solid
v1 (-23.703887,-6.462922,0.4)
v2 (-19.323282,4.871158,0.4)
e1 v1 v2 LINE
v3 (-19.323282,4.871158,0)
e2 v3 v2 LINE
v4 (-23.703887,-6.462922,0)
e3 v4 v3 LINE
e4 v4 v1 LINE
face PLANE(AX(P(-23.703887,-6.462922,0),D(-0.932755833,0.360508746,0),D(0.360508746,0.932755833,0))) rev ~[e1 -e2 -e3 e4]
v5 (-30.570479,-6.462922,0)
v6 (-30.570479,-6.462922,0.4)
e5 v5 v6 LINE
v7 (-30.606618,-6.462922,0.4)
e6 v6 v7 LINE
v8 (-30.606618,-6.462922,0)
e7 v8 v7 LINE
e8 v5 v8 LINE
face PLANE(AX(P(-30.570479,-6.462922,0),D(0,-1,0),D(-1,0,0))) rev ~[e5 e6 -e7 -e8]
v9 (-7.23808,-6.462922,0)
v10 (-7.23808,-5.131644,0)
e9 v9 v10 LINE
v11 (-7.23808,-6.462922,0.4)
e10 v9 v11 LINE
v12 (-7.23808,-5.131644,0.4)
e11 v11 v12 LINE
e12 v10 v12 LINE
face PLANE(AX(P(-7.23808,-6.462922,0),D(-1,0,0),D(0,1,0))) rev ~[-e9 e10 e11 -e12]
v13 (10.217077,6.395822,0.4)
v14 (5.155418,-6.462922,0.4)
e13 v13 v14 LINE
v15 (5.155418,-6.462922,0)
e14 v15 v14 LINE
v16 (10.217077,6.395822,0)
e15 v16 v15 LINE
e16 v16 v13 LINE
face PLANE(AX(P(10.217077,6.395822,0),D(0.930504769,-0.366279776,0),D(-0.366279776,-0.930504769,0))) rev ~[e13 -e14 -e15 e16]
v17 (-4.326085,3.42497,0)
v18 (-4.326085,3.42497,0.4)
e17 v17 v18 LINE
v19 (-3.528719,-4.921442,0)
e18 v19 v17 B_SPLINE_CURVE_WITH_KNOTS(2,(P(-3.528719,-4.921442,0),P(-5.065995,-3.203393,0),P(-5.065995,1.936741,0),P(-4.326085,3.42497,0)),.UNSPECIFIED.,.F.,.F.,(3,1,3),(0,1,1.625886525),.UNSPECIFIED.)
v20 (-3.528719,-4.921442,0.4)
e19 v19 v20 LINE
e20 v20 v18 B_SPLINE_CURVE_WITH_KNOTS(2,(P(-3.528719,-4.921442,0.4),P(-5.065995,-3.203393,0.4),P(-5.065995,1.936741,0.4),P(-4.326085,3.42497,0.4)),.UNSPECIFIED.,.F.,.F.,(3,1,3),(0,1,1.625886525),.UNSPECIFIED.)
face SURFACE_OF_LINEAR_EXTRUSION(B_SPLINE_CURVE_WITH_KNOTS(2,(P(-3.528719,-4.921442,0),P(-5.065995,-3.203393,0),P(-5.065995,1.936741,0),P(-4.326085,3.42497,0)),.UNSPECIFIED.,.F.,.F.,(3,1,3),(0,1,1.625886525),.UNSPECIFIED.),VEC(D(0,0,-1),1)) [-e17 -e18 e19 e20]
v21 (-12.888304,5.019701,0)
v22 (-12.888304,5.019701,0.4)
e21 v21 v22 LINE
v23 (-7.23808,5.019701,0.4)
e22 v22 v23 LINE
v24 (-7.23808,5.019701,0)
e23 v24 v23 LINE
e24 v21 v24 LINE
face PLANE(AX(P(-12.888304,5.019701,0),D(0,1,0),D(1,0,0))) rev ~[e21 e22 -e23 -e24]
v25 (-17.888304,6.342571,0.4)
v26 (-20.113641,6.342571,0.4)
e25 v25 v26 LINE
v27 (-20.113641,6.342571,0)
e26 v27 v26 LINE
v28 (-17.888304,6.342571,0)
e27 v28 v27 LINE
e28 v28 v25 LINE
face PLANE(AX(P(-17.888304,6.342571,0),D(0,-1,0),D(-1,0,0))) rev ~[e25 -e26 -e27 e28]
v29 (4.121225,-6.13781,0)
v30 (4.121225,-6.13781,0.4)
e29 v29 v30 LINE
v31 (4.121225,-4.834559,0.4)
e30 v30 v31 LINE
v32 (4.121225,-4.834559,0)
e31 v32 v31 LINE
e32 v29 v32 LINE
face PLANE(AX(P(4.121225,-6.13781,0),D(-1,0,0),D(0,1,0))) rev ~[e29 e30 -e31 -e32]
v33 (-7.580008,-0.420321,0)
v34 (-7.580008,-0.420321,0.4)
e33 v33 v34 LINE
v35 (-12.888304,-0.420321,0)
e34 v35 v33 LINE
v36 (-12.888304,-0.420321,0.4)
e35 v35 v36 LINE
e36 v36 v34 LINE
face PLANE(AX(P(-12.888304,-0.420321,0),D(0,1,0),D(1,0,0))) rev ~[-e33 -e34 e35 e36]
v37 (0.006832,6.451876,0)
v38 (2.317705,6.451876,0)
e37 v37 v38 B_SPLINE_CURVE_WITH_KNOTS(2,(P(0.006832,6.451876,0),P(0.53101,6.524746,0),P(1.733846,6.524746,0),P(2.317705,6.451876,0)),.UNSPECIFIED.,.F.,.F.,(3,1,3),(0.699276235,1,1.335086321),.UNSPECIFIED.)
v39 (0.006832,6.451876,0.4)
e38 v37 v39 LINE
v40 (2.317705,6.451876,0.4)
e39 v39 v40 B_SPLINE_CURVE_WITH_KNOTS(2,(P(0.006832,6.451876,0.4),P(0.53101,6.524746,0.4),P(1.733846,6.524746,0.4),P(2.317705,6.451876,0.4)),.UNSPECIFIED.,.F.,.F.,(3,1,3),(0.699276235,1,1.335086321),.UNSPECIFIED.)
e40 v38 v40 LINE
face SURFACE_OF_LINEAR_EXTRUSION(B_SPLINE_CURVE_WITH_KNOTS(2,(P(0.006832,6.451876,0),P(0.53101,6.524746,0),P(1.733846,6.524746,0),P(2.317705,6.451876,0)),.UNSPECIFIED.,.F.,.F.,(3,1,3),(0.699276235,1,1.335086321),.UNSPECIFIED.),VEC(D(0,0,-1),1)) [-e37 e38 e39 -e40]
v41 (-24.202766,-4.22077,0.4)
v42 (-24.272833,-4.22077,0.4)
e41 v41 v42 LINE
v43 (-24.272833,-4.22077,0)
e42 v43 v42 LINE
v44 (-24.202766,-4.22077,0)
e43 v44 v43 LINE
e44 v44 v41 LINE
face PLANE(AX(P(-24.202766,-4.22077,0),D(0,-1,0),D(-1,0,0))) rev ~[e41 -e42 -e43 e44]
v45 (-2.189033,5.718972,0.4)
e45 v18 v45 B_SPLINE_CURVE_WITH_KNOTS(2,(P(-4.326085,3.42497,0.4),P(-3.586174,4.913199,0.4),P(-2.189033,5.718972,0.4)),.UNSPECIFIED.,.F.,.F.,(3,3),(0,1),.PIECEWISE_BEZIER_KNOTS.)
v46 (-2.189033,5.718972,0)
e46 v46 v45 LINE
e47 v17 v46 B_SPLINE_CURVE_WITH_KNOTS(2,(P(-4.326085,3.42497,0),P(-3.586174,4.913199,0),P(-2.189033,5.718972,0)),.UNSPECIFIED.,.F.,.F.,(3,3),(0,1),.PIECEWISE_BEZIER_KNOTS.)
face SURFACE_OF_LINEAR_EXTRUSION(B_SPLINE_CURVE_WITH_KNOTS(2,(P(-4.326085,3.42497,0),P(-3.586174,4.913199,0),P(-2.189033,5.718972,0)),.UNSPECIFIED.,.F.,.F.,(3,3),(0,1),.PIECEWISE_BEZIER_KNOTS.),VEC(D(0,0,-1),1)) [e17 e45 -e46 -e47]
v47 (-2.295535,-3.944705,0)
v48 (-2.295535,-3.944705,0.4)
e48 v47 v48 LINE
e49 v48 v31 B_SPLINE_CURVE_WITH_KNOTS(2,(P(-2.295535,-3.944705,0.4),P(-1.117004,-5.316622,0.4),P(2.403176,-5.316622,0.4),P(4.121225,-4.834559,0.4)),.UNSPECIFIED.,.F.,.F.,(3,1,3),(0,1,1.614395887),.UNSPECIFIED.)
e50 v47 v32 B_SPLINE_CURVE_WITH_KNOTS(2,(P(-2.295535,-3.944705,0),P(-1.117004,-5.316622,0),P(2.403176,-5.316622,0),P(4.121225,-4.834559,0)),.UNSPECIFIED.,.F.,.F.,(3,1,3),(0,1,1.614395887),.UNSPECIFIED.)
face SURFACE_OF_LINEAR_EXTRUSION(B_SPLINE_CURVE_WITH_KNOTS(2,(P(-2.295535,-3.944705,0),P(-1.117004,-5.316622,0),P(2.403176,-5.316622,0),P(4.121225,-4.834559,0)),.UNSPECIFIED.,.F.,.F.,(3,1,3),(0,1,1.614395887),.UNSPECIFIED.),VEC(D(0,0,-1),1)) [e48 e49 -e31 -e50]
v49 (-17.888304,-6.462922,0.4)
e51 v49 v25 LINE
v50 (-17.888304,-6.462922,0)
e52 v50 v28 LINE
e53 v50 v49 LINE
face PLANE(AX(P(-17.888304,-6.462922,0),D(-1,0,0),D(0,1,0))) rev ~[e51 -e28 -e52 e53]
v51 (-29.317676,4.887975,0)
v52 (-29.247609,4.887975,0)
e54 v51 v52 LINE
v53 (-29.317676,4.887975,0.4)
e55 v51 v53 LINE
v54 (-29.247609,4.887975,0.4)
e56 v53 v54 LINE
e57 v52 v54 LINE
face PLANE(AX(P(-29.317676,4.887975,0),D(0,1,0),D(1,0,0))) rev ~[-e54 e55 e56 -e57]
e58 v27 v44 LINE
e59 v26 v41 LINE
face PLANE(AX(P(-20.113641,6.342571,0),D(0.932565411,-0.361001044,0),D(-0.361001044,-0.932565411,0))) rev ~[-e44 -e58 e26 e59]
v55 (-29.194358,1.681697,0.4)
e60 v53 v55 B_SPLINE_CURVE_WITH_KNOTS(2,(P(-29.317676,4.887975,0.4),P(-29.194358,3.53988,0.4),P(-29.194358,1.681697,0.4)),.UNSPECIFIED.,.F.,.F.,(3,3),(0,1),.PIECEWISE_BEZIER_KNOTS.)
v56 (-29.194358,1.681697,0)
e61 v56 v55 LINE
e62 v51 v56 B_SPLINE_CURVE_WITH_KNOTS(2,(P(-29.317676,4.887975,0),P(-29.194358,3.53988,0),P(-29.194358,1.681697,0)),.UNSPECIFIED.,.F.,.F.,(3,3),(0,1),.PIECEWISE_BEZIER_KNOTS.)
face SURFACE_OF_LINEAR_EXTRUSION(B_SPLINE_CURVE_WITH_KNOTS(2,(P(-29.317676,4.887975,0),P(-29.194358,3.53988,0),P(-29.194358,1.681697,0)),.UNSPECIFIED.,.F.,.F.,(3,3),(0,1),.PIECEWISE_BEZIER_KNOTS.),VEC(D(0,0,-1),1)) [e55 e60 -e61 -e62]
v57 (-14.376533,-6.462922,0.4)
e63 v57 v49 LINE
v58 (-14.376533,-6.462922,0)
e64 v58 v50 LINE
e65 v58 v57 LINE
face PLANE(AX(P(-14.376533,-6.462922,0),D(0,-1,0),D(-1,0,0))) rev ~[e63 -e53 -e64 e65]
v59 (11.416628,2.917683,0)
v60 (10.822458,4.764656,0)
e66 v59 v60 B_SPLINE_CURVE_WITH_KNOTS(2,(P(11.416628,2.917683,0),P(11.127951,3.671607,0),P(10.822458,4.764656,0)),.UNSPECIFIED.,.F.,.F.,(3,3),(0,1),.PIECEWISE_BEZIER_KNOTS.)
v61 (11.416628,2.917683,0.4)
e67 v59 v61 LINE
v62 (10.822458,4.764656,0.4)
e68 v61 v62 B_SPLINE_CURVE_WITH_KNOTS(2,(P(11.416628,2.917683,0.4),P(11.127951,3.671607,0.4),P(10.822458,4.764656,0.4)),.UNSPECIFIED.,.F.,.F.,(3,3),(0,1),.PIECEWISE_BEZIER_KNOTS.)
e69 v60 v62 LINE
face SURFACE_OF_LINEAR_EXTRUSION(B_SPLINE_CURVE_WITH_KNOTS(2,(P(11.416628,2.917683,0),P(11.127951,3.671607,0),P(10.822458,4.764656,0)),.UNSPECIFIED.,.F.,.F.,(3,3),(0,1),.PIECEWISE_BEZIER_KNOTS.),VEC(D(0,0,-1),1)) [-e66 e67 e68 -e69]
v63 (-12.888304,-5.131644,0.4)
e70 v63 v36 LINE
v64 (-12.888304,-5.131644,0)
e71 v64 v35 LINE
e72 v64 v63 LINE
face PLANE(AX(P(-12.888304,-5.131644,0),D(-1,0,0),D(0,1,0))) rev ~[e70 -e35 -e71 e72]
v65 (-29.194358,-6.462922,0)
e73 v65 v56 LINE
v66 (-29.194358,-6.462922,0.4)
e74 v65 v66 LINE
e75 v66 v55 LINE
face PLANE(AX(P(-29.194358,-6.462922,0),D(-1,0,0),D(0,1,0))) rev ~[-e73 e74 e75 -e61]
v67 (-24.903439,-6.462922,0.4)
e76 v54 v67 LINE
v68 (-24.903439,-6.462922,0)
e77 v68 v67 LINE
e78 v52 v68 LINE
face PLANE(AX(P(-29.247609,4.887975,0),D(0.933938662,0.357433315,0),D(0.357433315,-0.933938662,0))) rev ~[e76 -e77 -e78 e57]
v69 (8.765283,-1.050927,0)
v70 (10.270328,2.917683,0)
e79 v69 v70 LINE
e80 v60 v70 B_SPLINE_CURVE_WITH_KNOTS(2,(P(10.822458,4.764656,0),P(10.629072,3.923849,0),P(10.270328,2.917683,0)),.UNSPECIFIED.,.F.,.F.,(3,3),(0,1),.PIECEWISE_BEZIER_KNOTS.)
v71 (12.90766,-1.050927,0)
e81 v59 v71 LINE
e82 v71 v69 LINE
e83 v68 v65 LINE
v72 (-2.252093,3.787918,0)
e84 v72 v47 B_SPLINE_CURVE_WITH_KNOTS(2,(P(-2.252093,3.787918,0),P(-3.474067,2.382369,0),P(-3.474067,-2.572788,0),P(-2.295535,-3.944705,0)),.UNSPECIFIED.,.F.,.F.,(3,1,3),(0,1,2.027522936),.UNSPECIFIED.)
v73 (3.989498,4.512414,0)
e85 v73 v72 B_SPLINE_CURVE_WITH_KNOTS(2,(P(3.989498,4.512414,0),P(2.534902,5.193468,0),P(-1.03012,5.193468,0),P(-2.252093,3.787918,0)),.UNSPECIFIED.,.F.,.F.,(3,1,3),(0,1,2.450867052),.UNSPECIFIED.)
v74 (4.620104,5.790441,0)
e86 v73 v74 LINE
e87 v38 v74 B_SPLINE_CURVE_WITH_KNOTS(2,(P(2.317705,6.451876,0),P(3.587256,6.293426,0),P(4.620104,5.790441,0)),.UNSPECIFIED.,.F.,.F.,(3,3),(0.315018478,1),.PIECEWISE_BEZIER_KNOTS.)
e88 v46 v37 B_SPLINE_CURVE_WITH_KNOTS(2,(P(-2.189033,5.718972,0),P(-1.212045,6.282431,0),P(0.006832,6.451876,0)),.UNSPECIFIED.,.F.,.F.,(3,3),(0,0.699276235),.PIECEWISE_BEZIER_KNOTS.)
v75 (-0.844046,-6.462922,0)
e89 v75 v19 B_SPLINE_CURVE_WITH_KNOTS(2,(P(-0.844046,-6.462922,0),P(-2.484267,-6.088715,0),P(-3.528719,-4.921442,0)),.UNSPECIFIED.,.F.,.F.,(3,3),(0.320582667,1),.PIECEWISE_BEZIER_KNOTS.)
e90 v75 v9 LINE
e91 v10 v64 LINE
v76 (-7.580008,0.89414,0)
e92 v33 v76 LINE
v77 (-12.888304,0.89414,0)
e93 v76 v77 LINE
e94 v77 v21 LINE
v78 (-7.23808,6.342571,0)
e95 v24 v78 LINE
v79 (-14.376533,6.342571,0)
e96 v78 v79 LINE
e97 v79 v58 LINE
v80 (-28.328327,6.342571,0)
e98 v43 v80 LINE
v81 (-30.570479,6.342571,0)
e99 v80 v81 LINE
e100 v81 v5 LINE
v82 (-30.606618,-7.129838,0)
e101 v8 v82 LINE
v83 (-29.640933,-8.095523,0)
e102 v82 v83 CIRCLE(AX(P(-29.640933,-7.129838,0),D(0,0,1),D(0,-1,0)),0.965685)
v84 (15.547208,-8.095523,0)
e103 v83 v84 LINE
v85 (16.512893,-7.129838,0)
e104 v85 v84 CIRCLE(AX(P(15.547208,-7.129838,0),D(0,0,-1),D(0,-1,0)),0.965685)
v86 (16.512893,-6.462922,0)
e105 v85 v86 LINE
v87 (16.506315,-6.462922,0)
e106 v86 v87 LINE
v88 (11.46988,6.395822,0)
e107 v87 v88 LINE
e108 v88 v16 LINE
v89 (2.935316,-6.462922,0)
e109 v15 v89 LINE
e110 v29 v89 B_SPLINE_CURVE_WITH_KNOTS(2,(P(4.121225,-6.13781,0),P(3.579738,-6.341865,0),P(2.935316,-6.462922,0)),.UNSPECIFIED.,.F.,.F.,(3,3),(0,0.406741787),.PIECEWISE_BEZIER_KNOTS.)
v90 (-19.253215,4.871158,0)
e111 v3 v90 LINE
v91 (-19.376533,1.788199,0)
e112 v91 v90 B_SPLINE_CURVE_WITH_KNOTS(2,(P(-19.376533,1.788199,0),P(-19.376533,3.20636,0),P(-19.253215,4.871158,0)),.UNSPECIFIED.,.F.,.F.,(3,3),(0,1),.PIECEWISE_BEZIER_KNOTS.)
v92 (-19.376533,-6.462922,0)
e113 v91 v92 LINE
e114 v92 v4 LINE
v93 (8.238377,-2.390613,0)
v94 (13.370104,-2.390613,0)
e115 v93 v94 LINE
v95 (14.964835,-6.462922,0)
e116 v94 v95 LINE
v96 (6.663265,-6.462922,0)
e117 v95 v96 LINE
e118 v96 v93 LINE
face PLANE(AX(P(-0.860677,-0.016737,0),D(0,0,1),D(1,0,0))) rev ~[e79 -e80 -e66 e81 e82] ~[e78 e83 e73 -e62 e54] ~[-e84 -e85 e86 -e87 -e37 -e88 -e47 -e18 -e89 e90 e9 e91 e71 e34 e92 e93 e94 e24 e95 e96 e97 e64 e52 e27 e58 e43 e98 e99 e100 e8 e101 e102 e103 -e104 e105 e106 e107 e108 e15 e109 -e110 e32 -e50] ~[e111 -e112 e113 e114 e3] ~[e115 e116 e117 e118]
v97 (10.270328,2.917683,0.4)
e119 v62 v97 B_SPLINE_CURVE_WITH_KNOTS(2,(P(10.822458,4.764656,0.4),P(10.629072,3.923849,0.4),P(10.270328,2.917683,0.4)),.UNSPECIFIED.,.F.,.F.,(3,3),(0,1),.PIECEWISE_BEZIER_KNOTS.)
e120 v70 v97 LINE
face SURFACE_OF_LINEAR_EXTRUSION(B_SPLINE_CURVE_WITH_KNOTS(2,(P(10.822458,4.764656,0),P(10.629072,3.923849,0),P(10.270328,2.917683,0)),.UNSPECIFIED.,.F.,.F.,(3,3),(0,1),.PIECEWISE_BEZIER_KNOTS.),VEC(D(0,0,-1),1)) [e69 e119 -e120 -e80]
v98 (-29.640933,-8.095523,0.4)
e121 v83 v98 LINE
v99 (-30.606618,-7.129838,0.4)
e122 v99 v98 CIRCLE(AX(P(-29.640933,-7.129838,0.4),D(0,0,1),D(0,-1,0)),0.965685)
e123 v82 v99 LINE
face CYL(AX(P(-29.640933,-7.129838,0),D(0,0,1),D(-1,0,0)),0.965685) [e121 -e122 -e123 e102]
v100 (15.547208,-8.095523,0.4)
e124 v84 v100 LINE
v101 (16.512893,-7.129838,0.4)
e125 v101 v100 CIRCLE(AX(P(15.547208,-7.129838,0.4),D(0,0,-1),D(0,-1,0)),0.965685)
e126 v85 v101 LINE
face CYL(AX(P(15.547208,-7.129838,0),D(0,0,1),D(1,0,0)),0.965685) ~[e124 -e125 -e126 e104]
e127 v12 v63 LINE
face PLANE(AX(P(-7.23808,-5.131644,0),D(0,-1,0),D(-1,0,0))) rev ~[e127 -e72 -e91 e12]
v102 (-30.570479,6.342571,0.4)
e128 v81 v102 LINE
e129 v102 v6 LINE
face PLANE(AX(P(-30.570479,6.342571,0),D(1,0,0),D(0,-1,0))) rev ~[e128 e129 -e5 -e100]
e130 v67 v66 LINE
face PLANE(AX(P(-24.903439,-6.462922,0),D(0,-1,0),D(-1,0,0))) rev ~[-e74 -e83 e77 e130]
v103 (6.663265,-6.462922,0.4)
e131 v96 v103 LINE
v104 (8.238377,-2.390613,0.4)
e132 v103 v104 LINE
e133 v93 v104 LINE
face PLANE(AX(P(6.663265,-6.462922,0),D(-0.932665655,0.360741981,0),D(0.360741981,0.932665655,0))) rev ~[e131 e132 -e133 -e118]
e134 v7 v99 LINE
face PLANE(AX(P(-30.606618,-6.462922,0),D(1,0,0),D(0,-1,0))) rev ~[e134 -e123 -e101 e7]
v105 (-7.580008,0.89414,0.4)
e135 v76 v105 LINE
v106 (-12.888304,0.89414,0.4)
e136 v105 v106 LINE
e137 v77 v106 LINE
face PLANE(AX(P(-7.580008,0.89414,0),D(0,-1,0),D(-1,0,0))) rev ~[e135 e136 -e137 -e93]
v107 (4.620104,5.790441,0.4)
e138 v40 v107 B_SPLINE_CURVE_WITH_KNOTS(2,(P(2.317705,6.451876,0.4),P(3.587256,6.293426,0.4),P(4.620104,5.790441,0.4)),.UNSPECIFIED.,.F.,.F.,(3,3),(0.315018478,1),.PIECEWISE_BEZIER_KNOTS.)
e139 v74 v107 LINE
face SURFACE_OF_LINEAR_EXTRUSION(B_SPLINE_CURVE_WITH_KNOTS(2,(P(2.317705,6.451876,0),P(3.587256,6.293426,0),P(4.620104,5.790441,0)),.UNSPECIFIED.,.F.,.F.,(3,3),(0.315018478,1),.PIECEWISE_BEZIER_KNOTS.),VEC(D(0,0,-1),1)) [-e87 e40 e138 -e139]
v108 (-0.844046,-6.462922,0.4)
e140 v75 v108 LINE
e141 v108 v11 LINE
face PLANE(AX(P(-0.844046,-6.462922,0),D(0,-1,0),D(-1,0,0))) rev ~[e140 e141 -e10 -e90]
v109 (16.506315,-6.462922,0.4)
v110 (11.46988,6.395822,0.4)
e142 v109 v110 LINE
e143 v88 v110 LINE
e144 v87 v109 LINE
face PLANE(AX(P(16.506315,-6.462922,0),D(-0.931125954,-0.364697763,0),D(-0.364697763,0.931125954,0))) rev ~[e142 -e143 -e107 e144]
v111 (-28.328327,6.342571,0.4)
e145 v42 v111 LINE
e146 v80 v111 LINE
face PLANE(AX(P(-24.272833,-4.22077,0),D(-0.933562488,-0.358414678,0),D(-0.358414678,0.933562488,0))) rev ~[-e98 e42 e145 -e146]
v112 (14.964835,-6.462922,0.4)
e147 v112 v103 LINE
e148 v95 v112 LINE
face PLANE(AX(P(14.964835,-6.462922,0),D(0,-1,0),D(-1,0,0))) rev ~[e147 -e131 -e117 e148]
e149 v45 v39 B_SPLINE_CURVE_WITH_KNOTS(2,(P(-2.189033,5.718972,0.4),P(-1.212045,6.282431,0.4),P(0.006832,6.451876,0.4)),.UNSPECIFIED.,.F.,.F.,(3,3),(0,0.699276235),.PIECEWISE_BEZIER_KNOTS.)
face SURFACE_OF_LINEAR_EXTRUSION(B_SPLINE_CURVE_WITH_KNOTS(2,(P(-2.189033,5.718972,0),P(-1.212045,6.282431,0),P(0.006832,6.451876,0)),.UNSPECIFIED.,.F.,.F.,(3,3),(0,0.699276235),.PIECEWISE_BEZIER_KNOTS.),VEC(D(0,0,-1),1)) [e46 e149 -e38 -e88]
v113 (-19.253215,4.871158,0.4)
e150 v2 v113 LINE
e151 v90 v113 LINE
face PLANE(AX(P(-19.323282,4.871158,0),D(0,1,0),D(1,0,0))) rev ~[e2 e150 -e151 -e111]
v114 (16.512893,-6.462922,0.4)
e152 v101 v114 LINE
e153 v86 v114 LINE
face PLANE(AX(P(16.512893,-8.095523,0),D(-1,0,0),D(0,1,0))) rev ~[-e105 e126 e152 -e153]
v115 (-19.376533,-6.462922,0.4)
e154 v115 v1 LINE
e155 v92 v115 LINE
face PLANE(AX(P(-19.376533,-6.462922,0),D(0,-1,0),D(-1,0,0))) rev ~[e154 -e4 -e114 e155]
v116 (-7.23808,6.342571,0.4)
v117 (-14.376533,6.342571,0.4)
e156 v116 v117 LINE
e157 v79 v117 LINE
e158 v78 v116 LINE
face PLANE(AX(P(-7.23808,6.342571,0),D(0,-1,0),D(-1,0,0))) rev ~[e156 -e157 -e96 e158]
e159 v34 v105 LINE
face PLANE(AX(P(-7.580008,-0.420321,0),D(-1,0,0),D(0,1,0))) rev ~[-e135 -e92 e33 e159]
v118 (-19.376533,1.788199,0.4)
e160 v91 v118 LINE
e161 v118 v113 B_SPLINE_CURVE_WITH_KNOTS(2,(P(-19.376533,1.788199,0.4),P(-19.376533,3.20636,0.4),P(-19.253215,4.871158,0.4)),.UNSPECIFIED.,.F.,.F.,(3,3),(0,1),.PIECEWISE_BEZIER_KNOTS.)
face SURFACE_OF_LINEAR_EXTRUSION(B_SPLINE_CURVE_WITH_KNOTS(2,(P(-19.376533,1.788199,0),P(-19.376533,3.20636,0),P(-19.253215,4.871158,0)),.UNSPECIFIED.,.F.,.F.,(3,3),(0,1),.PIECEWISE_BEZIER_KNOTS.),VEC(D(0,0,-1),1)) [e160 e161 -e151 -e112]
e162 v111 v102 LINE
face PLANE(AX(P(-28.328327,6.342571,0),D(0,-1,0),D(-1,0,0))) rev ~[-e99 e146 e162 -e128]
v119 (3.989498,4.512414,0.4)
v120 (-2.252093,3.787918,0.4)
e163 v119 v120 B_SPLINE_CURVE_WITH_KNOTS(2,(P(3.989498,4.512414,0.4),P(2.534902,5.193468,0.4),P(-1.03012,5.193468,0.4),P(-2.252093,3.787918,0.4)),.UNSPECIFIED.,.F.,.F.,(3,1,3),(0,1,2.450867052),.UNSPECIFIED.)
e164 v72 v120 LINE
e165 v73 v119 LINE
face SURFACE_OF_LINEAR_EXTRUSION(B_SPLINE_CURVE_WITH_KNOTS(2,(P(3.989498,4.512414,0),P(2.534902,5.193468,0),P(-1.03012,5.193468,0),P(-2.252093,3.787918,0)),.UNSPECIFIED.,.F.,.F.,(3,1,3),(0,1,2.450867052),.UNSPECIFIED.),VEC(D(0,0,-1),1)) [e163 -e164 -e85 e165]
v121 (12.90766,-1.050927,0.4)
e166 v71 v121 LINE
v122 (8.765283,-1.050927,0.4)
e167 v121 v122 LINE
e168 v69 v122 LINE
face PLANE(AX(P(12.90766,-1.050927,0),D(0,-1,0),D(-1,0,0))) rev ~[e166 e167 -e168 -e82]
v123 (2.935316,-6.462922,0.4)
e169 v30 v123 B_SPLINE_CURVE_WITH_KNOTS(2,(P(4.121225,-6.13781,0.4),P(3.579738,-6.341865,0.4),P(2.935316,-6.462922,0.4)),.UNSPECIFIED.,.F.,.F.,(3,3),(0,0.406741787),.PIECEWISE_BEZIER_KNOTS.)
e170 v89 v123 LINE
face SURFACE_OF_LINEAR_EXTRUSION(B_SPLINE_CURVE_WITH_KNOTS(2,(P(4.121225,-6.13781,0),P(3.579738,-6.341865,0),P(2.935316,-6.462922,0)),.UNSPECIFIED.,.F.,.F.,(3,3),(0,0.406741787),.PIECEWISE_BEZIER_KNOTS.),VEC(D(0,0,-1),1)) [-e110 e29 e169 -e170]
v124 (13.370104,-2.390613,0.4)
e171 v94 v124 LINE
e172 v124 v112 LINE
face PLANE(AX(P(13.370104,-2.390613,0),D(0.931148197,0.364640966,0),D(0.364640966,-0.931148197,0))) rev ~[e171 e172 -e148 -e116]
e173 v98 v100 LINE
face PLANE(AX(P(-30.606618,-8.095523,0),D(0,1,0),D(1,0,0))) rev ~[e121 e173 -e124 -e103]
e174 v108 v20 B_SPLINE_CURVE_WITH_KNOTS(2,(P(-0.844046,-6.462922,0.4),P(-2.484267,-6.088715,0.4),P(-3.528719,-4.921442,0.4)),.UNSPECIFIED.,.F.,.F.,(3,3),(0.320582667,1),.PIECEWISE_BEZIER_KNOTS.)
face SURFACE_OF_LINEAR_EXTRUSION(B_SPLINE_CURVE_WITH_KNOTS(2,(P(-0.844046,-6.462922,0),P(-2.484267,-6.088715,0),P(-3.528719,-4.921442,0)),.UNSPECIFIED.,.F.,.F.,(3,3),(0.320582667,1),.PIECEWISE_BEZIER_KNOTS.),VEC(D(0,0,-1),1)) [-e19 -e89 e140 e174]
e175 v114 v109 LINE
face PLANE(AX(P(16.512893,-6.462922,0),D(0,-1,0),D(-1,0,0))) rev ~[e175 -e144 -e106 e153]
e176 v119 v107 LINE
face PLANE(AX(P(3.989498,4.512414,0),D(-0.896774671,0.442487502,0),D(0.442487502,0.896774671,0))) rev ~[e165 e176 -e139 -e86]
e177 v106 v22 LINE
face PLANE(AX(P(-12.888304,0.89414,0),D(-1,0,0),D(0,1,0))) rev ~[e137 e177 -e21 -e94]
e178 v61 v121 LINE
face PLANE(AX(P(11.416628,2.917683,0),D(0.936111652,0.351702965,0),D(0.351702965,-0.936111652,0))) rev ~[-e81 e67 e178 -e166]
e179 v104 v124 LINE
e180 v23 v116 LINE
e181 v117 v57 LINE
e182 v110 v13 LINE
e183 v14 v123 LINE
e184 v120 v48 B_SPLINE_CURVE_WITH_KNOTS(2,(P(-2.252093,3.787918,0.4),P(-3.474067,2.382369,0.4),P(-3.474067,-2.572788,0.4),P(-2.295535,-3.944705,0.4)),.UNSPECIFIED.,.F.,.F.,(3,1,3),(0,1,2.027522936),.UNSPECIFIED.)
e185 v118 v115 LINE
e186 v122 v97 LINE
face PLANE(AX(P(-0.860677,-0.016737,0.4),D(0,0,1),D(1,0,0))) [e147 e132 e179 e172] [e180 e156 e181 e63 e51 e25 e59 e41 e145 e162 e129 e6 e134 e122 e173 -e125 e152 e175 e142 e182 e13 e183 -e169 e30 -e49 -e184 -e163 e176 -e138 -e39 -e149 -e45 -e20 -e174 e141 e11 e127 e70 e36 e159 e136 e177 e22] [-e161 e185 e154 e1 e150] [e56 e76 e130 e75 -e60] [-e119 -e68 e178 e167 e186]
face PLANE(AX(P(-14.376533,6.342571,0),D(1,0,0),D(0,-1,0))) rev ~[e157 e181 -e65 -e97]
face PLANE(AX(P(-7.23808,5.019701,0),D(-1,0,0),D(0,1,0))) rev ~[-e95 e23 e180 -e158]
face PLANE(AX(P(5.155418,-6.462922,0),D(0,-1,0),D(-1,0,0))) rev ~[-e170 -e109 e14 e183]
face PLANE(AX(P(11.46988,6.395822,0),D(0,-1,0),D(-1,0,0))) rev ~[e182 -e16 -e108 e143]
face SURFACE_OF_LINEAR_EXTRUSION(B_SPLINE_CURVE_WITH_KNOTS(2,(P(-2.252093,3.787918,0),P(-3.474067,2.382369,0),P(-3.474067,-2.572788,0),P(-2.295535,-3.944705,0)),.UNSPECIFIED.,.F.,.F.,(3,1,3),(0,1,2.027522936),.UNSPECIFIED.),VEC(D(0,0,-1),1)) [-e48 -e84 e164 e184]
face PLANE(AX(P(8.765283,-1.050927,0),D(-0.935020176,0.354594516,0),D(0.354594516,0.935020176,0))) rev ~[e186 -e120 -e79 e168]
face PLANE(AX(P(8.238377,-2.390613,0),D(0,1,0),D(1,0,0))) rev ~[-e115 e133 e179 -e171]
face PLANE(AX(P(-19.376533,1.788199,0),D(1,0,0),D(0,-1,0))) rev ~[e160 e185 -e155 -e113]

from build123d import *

# Parameters (mm, degrees)
F1_DEPTH = 0.4
F2_R     = 0.9656854249


with BuildPart() as f1:
    # F0 (on Top) → F1 (new body)
    with BuildSketch(Plane.XY):
        with BuildLine():
            Line((2.3177045503, 6.4518758865), (0.0068321246, 6.4518758865))
            add(Edge.make_bspline(
                [(-2.1890329452, 5.7189722991), (-1.2120452677, 6.2824305885), (0.0068321246, 6.4518758865)],
                knots=[0, 0, 0, 0.6992762354, 0.6992762354, 0.6992762354], degree=2))
            add(Edge.make_bspline(
                [(-4.3260845147, 3.4249700569), (-3.5861742008, 4.9131987565), (-2.1890329452, 5.7189722991)],
                knots=[0, 0, 0, 1, 1, 1], degree=2))
            add(Edge.make_bspline(
                [(-5.0659948286, -0.0419581942), (-5.0659948286, 1.9367413574), (-4.3260845147, 3.4249700569)],
                knots=[0, 0, 0, 1, 1, 1], degree=2))
            add(Edge.make_bspline(
                [(-3.5287190438, -4.9214424991), (-5.0659948286, -3.2033931718), (-5.0659948286, -0.0419581942)],
                knots=[0, 0, 0, 1, 1, 1], degree=2))
            add(Edge.make_bspline(
                [(-0.8440462353, -6.4629223198), (-2.48426723, -6.0887149912), (-3.5287190438, -4.9214424991)],
                knots=[0.3205826669, 0.3205826669, 0.3205826669, 1, 1, 1], degree=2))
            Line((-0.8440462353, -6.4629223198), (-0.101907946, -6.4629223198))
            Line((-0.101907946, -6.4629223198), (2.9353164681, -6.4629223198))
            add(Edge.make_bspline(
                [(4.1212249023, -6.1378102121), (3.5797384986, -6.3418650885), (2.9353164681, -6.4629223198)],
                knots=[0, 0, 0, 0.406741787, 0.406741787, 0.406741787], degree=2))
            Line((4.1212249023, -6.1378102121), (4.1212249023, -4.8345590911))
            add(Edge.make_bspline(
                [(1.0634894763, -5.3166218713), (2.403175575, -5.3166218713), (4.1212249023, -4.8345590911)],
                knots=[0, 0, 0, 1, 1, 1], degree=2))
            add(Edge.make_bspline(
                [(-2.2955351873, -3.944704831), (-1.1170037972, -5.3166218713), (1.0634894763, -5.3166218713)],
                knots=[0, 0, 0, 1, 1, 1], degree=2))
            add(Edge.make_bspline(
                [(-3.4740665775, -0.0615770283), (-3.4740665775, -2.5727877906), (-2.2955351873, -3.944704831)],
                knots=[0, 0, 0, 1, 1, 1], degree=2))
            add(Edge.make_bspline(
                [(-2.2520934833, 3.7879184874), (-3.4740665775, 2.3823691601), (-3.4740665775, -0.0615770283)],
                knots=[0, 0, 0, 1, 1, 1], degree=2))
            add(Edge.make_bspline(
                [(1.0803056198, 5.1934678148), (-1.0301203891, 5.1934678148), (-2.2520934833, 3.7879184874)],
                knots=[0, 0, 0, 1, 1, 1], degree=2))
            add(Edge.make_bspline(
                [(3.9894984449, 4.5124140031), (2.5349020324, 5.1934678148), (1.0803056198, 5.1934678148)],
                knots=[0, 0, 0, 1, 1, 1], degree=2))
            Line((3.9894984449, 4.5124140031), (4.6201038261, 5.7904409089))
            add(Edge.make_bspline(
                [(2.3177045503, 6.4518758865), (3.587256127, 6.2934262197), (4.6201038261, 5.7904409089)],
                knots=[0.3150184776, 0.3150184776, 0.3150184776, 1, 1, 1], degree=2))
        make_face()
        Polygon((-10.8601368731, -6.4629223198), (-7.2380800304, -6.4629223198), (-7.2380800304, -5.1316442929), (-12.8883042456, -5.1316442929), (-12.8883042456, -0.4203214229), (-7.5800082815, -0.4203214229), (-7.5800082815, 0.8941404605), (-12.8883042456, 0.8941404605), (-12.8883042456, 5.0197009986), (-7.2380800304, 5.0197009986), (-7.2380800304, 6.3425709538), (-14.3765329452, 6.3425709538), (-14.3765329452, -6.4629223198), (-12.6325140038, -6.4629223198), align=None)
        with BuildLine():
            Line((-19.3765329452, -6.4629223198), (-17.8883042456, -6.4629223198))
            Line((-17.8883042456, -6.4629223198), (-17.8883042456, 6.3425709538))
            Line((-17.8883042456, 6.3425709538), (-20.1136405685, 6.3425709538))
            Line((-20.1136405685, 6.3425709538), (-24.2027661291, -4.2207698534))
            Line((-24.2027661291, -4.2207698534), (-24.2728333936, -4.2207698534))
            Line((-24.2728333936, -4.2207698534), (-28.3283266672, 6.3425709538))
            Line((-28.3283266672, 6.3425709538), (-30.5704791335, 6.3425709538))
            Line((-30.5704791335, 6.3425709538), (-30.5704791335, -6.4629223198))
            Line((-30.5704791335, -6.4629223198), (-29.1943580573, -6.4629223198))
            Line((-29.1943580573, -6.4629223198), (-29.1943580573, 1.6816965143))
            add(Edge.make_bspline(
                [(-29.317676443, 4.8879745412), (-29.1943580573, 3.5398803708), (-29.1943580573, 1.6816965143)],
                knots=[0, 0, 0, 1, 1, 1], degree=2))
            Line((-29.317676443, 4.8879745412), (-29.2476091784, 4.8879745412))
            Line((-29.2476091784, 4.8879745412), (-24.9034387748, -6.4629223198))
            Line((-24.9034387748, -6.4629223198), (-23.7038872053, -6.4629223198))
            Line((-23.7038872053, -6.4629223198), (-19.3232818241, 4.8711583977))
            Line((-19.3232818241, 4.8711583977), (-19.2532145595, 4.8711583977))
            add(Edge.make_bspline(
                [(-19.3765329452, 1.7881987565), (-19.3765329452, 3.2063601914), (-19.2532145595, 4.8711583977)],
                knots=[0, 0, 0, 1, 1, 1], degree=2))
            Line((-19.3765329452, 1.7881987565), (-19.3765329452, -6.4629223198))
        make_face()
        Polygon((10.2170769203, 6.3958220748), (5.1554177275, -6.4629223198), (6.6632652611, -6.4629223198), (8.2383773687, -2.3906129027), (13.3701038261, -2.3906129027), (14.9648347678, -6.4629223198), (16.5063145884, -6.4629223198), (11.4698796109, 6.3958220748), align=None)
        with BuildLine():
            Line((11.4166284898, 2.9176830614), (12.9076598799, -1.0509268041))
            Line((12.9076598799, -1.0509268041), (8.7652831983, -1.0509268041))
            Line((8.7652831983, -1.0509268041), (10.2703280414, 2.9176830614))
            add(Edge.make_bspline(
                [(10.8224580862, 4.7646561556), (10.629072436, 3.9238489807), (10.2703280414, 2.9176830614)],
                knots=[0, 0, 0, 1, 1, 1], degree=2))
            add(Edge.make_bspline(
                [(11.4166284898, 2.9176830614), (11.1279513597, 3.6716068282), (10.8224580862, 4.7646561556)],
                knots=[0, 0, 0, 1, 1, 1], degree=2))
        make_face(mode=Mode.SUBTRACT)
        with BuildLine():
            add(Edge.make_bspline(
                [(0.0068321246, 6.4518758865), (0.5310103813, 6.5247458417), (1.0999244539, 6.5247458417)],
                knots=[0.6992762354, 0.6992762354, 0.6992762354, 1, 1, 1], degree=2))
            Line((0.0068321246, 6.4518758865), (2.3177045503, 6.4518758865))
            add(Edge.make_bspline(
                [(1.0999244539, 6.5247458417), (1.7338461661, 6.5247458417), (2.3177045503, 6.4518758865)],
                knots=[0, 0, 0, 0.3150184776, 0.3150184776, 0.3150184776], degree=2))
        make_face()
        with BuildLine():
            add(Edge.make_bspline(
                [(-0.1528043431, -6.582261177), (-0.5107269616, -6.5389672645), (-0.8440462353, -6.4629223198)],
                knots=[0.1825141428, 0.1825141428, 0.1825141428, 0.3205826669, 0.3205826669, 0.3205826669], degree=2))
            Line((-0.8440462353, -6.4629223198), (-7.2380800304, -6.4629223198))
            Line((-7.2380800304, -6.4629223198), (-10.8601368731, -6.4629223198))
            Line((-10.8601368731, -6.4629223198), (-12.6325140038, -6.4629223198))
            Line((-12.6325140038, -6.4629223198), (-14.3765329452, -6.4629223198))
            Line((-14.3765329452, -6.4629223198), (-17.8883042456, -6.4629223198))
            Line((-17.8883042456, -6.4629223198), (-19.3765329452, -6.4629223198))
            Line((-19.3765329452, -6.4629223198), (-23.7038872053, -6.4629223198))
            Line((-23.7038872053, -6.4629223198), (-24.9034387748, -6.4629223198))
            Line((-24.9034387748, -6.4629223198), (-29.1943580573, -6.4629223198))
            Line((-29.1943580573, -6.4629223198), (-30.5704791335, -6.4629223198))
            Line((-30.5704791335, -6.4629223198), (-30.6066181511, -6.4629223198))
            Line((-30.6066181511, -6.4629223198), (-30.6066181511, -8.0955233425))
            Line((-30.6066181511, -8.0955233425), (16.5128931403, -8.0955233425))
            Line((16.5128931403, -8.0955233425), (16.5128931403, -6.4629223198))
            Line((16.5128931403, -6.4629223198), (16.5063145884, -6.4629223198))
            Line((16.5063145884, -6.4629223198), (14.9648347678, -6.4629223198))
            Line((14.9648347678, -6.4629223198), (6.6632652611, -6.4629223198))
            Line((6.6632652611, -6.4629223198), (5.1554177275, -6.4629223198))
            Line((5.1554177275, -6.4629223198), (2.9353164681, -6.4629223198))
            add(Edge.make_bspline(
                [(2.9353164681, -6.4629223198), (1.9953868262, -6.6394918265), (0.8364715391, -6.6394918265)],
                knots=[0.406741787, 0.406741787, 0.406741787, 1, 1, 1], degree=2))
            add(Edge.make_bspline(
                [(0.8364715391, -6.6394918265), (0.3203370938, -6.6394918265), (-0.1528043431, -6.582261177)],
                knots=[0, 0, 0, 0.1825141428, 0.1825141428, 0.1825141428], degree=2))
        make_face()
        with BuildLine():
            Line((-0.101907946, -6.4629223198), (-0.8440462353, -6.4629223198))
            add(Edge.make_bspline(
                [(-0.1528043431, -6.582261177), (-0.5107269616, -6.5389672645), (-0.8440462353, -6.4629223198)],
                knots=[0.1825141428, 0.1825141428, 0.1825141428, 0.3205826669, 0.3205826669, 0.3205826669], degree=2))
            Line((-0.1528043431, -6.582261177), (-0.101907946, -6.4629223198))
        make_face()
        with BuildLine():
            Line((2.9353164681, -6.4629223198), (-0.101907946, -6.4629223198))
            Line((-0.101907946, -6.4629223198), (-0.1528043431, -6.582261177))
            add(Edge.make_bspline(
                [(0.8364715391, -6.6394918265), (0.3203370938, -6.6394918265), (-0.1528043431, -6.582261177)],
                knots=[0, 0, 0, 0.1825141428, 0.1825141428, 0.1825141428], degree=2))
            add(Edge.make_bspline(
                [(2.9353164681, -6.4629223198), (1.9953868262, -6.6394918265), (0.8364715391, -6.6394918265)],
                knots=[0.406741787, 0.406741787, 0.406741787, 1, 1, 1], degree=2))
        make_face()
    extrude(amount=F1_DEPTH)

    # F2
    f2_edges = [f1.edges().sort_by_distance(p)[0] for p in [
        (-30.606618, -8.095523, 0.2),
        (16.512893, -8.095523, 0.2),
    ]]
    fillet(f2_edges, radius=F2_R)


solid = f1.part
